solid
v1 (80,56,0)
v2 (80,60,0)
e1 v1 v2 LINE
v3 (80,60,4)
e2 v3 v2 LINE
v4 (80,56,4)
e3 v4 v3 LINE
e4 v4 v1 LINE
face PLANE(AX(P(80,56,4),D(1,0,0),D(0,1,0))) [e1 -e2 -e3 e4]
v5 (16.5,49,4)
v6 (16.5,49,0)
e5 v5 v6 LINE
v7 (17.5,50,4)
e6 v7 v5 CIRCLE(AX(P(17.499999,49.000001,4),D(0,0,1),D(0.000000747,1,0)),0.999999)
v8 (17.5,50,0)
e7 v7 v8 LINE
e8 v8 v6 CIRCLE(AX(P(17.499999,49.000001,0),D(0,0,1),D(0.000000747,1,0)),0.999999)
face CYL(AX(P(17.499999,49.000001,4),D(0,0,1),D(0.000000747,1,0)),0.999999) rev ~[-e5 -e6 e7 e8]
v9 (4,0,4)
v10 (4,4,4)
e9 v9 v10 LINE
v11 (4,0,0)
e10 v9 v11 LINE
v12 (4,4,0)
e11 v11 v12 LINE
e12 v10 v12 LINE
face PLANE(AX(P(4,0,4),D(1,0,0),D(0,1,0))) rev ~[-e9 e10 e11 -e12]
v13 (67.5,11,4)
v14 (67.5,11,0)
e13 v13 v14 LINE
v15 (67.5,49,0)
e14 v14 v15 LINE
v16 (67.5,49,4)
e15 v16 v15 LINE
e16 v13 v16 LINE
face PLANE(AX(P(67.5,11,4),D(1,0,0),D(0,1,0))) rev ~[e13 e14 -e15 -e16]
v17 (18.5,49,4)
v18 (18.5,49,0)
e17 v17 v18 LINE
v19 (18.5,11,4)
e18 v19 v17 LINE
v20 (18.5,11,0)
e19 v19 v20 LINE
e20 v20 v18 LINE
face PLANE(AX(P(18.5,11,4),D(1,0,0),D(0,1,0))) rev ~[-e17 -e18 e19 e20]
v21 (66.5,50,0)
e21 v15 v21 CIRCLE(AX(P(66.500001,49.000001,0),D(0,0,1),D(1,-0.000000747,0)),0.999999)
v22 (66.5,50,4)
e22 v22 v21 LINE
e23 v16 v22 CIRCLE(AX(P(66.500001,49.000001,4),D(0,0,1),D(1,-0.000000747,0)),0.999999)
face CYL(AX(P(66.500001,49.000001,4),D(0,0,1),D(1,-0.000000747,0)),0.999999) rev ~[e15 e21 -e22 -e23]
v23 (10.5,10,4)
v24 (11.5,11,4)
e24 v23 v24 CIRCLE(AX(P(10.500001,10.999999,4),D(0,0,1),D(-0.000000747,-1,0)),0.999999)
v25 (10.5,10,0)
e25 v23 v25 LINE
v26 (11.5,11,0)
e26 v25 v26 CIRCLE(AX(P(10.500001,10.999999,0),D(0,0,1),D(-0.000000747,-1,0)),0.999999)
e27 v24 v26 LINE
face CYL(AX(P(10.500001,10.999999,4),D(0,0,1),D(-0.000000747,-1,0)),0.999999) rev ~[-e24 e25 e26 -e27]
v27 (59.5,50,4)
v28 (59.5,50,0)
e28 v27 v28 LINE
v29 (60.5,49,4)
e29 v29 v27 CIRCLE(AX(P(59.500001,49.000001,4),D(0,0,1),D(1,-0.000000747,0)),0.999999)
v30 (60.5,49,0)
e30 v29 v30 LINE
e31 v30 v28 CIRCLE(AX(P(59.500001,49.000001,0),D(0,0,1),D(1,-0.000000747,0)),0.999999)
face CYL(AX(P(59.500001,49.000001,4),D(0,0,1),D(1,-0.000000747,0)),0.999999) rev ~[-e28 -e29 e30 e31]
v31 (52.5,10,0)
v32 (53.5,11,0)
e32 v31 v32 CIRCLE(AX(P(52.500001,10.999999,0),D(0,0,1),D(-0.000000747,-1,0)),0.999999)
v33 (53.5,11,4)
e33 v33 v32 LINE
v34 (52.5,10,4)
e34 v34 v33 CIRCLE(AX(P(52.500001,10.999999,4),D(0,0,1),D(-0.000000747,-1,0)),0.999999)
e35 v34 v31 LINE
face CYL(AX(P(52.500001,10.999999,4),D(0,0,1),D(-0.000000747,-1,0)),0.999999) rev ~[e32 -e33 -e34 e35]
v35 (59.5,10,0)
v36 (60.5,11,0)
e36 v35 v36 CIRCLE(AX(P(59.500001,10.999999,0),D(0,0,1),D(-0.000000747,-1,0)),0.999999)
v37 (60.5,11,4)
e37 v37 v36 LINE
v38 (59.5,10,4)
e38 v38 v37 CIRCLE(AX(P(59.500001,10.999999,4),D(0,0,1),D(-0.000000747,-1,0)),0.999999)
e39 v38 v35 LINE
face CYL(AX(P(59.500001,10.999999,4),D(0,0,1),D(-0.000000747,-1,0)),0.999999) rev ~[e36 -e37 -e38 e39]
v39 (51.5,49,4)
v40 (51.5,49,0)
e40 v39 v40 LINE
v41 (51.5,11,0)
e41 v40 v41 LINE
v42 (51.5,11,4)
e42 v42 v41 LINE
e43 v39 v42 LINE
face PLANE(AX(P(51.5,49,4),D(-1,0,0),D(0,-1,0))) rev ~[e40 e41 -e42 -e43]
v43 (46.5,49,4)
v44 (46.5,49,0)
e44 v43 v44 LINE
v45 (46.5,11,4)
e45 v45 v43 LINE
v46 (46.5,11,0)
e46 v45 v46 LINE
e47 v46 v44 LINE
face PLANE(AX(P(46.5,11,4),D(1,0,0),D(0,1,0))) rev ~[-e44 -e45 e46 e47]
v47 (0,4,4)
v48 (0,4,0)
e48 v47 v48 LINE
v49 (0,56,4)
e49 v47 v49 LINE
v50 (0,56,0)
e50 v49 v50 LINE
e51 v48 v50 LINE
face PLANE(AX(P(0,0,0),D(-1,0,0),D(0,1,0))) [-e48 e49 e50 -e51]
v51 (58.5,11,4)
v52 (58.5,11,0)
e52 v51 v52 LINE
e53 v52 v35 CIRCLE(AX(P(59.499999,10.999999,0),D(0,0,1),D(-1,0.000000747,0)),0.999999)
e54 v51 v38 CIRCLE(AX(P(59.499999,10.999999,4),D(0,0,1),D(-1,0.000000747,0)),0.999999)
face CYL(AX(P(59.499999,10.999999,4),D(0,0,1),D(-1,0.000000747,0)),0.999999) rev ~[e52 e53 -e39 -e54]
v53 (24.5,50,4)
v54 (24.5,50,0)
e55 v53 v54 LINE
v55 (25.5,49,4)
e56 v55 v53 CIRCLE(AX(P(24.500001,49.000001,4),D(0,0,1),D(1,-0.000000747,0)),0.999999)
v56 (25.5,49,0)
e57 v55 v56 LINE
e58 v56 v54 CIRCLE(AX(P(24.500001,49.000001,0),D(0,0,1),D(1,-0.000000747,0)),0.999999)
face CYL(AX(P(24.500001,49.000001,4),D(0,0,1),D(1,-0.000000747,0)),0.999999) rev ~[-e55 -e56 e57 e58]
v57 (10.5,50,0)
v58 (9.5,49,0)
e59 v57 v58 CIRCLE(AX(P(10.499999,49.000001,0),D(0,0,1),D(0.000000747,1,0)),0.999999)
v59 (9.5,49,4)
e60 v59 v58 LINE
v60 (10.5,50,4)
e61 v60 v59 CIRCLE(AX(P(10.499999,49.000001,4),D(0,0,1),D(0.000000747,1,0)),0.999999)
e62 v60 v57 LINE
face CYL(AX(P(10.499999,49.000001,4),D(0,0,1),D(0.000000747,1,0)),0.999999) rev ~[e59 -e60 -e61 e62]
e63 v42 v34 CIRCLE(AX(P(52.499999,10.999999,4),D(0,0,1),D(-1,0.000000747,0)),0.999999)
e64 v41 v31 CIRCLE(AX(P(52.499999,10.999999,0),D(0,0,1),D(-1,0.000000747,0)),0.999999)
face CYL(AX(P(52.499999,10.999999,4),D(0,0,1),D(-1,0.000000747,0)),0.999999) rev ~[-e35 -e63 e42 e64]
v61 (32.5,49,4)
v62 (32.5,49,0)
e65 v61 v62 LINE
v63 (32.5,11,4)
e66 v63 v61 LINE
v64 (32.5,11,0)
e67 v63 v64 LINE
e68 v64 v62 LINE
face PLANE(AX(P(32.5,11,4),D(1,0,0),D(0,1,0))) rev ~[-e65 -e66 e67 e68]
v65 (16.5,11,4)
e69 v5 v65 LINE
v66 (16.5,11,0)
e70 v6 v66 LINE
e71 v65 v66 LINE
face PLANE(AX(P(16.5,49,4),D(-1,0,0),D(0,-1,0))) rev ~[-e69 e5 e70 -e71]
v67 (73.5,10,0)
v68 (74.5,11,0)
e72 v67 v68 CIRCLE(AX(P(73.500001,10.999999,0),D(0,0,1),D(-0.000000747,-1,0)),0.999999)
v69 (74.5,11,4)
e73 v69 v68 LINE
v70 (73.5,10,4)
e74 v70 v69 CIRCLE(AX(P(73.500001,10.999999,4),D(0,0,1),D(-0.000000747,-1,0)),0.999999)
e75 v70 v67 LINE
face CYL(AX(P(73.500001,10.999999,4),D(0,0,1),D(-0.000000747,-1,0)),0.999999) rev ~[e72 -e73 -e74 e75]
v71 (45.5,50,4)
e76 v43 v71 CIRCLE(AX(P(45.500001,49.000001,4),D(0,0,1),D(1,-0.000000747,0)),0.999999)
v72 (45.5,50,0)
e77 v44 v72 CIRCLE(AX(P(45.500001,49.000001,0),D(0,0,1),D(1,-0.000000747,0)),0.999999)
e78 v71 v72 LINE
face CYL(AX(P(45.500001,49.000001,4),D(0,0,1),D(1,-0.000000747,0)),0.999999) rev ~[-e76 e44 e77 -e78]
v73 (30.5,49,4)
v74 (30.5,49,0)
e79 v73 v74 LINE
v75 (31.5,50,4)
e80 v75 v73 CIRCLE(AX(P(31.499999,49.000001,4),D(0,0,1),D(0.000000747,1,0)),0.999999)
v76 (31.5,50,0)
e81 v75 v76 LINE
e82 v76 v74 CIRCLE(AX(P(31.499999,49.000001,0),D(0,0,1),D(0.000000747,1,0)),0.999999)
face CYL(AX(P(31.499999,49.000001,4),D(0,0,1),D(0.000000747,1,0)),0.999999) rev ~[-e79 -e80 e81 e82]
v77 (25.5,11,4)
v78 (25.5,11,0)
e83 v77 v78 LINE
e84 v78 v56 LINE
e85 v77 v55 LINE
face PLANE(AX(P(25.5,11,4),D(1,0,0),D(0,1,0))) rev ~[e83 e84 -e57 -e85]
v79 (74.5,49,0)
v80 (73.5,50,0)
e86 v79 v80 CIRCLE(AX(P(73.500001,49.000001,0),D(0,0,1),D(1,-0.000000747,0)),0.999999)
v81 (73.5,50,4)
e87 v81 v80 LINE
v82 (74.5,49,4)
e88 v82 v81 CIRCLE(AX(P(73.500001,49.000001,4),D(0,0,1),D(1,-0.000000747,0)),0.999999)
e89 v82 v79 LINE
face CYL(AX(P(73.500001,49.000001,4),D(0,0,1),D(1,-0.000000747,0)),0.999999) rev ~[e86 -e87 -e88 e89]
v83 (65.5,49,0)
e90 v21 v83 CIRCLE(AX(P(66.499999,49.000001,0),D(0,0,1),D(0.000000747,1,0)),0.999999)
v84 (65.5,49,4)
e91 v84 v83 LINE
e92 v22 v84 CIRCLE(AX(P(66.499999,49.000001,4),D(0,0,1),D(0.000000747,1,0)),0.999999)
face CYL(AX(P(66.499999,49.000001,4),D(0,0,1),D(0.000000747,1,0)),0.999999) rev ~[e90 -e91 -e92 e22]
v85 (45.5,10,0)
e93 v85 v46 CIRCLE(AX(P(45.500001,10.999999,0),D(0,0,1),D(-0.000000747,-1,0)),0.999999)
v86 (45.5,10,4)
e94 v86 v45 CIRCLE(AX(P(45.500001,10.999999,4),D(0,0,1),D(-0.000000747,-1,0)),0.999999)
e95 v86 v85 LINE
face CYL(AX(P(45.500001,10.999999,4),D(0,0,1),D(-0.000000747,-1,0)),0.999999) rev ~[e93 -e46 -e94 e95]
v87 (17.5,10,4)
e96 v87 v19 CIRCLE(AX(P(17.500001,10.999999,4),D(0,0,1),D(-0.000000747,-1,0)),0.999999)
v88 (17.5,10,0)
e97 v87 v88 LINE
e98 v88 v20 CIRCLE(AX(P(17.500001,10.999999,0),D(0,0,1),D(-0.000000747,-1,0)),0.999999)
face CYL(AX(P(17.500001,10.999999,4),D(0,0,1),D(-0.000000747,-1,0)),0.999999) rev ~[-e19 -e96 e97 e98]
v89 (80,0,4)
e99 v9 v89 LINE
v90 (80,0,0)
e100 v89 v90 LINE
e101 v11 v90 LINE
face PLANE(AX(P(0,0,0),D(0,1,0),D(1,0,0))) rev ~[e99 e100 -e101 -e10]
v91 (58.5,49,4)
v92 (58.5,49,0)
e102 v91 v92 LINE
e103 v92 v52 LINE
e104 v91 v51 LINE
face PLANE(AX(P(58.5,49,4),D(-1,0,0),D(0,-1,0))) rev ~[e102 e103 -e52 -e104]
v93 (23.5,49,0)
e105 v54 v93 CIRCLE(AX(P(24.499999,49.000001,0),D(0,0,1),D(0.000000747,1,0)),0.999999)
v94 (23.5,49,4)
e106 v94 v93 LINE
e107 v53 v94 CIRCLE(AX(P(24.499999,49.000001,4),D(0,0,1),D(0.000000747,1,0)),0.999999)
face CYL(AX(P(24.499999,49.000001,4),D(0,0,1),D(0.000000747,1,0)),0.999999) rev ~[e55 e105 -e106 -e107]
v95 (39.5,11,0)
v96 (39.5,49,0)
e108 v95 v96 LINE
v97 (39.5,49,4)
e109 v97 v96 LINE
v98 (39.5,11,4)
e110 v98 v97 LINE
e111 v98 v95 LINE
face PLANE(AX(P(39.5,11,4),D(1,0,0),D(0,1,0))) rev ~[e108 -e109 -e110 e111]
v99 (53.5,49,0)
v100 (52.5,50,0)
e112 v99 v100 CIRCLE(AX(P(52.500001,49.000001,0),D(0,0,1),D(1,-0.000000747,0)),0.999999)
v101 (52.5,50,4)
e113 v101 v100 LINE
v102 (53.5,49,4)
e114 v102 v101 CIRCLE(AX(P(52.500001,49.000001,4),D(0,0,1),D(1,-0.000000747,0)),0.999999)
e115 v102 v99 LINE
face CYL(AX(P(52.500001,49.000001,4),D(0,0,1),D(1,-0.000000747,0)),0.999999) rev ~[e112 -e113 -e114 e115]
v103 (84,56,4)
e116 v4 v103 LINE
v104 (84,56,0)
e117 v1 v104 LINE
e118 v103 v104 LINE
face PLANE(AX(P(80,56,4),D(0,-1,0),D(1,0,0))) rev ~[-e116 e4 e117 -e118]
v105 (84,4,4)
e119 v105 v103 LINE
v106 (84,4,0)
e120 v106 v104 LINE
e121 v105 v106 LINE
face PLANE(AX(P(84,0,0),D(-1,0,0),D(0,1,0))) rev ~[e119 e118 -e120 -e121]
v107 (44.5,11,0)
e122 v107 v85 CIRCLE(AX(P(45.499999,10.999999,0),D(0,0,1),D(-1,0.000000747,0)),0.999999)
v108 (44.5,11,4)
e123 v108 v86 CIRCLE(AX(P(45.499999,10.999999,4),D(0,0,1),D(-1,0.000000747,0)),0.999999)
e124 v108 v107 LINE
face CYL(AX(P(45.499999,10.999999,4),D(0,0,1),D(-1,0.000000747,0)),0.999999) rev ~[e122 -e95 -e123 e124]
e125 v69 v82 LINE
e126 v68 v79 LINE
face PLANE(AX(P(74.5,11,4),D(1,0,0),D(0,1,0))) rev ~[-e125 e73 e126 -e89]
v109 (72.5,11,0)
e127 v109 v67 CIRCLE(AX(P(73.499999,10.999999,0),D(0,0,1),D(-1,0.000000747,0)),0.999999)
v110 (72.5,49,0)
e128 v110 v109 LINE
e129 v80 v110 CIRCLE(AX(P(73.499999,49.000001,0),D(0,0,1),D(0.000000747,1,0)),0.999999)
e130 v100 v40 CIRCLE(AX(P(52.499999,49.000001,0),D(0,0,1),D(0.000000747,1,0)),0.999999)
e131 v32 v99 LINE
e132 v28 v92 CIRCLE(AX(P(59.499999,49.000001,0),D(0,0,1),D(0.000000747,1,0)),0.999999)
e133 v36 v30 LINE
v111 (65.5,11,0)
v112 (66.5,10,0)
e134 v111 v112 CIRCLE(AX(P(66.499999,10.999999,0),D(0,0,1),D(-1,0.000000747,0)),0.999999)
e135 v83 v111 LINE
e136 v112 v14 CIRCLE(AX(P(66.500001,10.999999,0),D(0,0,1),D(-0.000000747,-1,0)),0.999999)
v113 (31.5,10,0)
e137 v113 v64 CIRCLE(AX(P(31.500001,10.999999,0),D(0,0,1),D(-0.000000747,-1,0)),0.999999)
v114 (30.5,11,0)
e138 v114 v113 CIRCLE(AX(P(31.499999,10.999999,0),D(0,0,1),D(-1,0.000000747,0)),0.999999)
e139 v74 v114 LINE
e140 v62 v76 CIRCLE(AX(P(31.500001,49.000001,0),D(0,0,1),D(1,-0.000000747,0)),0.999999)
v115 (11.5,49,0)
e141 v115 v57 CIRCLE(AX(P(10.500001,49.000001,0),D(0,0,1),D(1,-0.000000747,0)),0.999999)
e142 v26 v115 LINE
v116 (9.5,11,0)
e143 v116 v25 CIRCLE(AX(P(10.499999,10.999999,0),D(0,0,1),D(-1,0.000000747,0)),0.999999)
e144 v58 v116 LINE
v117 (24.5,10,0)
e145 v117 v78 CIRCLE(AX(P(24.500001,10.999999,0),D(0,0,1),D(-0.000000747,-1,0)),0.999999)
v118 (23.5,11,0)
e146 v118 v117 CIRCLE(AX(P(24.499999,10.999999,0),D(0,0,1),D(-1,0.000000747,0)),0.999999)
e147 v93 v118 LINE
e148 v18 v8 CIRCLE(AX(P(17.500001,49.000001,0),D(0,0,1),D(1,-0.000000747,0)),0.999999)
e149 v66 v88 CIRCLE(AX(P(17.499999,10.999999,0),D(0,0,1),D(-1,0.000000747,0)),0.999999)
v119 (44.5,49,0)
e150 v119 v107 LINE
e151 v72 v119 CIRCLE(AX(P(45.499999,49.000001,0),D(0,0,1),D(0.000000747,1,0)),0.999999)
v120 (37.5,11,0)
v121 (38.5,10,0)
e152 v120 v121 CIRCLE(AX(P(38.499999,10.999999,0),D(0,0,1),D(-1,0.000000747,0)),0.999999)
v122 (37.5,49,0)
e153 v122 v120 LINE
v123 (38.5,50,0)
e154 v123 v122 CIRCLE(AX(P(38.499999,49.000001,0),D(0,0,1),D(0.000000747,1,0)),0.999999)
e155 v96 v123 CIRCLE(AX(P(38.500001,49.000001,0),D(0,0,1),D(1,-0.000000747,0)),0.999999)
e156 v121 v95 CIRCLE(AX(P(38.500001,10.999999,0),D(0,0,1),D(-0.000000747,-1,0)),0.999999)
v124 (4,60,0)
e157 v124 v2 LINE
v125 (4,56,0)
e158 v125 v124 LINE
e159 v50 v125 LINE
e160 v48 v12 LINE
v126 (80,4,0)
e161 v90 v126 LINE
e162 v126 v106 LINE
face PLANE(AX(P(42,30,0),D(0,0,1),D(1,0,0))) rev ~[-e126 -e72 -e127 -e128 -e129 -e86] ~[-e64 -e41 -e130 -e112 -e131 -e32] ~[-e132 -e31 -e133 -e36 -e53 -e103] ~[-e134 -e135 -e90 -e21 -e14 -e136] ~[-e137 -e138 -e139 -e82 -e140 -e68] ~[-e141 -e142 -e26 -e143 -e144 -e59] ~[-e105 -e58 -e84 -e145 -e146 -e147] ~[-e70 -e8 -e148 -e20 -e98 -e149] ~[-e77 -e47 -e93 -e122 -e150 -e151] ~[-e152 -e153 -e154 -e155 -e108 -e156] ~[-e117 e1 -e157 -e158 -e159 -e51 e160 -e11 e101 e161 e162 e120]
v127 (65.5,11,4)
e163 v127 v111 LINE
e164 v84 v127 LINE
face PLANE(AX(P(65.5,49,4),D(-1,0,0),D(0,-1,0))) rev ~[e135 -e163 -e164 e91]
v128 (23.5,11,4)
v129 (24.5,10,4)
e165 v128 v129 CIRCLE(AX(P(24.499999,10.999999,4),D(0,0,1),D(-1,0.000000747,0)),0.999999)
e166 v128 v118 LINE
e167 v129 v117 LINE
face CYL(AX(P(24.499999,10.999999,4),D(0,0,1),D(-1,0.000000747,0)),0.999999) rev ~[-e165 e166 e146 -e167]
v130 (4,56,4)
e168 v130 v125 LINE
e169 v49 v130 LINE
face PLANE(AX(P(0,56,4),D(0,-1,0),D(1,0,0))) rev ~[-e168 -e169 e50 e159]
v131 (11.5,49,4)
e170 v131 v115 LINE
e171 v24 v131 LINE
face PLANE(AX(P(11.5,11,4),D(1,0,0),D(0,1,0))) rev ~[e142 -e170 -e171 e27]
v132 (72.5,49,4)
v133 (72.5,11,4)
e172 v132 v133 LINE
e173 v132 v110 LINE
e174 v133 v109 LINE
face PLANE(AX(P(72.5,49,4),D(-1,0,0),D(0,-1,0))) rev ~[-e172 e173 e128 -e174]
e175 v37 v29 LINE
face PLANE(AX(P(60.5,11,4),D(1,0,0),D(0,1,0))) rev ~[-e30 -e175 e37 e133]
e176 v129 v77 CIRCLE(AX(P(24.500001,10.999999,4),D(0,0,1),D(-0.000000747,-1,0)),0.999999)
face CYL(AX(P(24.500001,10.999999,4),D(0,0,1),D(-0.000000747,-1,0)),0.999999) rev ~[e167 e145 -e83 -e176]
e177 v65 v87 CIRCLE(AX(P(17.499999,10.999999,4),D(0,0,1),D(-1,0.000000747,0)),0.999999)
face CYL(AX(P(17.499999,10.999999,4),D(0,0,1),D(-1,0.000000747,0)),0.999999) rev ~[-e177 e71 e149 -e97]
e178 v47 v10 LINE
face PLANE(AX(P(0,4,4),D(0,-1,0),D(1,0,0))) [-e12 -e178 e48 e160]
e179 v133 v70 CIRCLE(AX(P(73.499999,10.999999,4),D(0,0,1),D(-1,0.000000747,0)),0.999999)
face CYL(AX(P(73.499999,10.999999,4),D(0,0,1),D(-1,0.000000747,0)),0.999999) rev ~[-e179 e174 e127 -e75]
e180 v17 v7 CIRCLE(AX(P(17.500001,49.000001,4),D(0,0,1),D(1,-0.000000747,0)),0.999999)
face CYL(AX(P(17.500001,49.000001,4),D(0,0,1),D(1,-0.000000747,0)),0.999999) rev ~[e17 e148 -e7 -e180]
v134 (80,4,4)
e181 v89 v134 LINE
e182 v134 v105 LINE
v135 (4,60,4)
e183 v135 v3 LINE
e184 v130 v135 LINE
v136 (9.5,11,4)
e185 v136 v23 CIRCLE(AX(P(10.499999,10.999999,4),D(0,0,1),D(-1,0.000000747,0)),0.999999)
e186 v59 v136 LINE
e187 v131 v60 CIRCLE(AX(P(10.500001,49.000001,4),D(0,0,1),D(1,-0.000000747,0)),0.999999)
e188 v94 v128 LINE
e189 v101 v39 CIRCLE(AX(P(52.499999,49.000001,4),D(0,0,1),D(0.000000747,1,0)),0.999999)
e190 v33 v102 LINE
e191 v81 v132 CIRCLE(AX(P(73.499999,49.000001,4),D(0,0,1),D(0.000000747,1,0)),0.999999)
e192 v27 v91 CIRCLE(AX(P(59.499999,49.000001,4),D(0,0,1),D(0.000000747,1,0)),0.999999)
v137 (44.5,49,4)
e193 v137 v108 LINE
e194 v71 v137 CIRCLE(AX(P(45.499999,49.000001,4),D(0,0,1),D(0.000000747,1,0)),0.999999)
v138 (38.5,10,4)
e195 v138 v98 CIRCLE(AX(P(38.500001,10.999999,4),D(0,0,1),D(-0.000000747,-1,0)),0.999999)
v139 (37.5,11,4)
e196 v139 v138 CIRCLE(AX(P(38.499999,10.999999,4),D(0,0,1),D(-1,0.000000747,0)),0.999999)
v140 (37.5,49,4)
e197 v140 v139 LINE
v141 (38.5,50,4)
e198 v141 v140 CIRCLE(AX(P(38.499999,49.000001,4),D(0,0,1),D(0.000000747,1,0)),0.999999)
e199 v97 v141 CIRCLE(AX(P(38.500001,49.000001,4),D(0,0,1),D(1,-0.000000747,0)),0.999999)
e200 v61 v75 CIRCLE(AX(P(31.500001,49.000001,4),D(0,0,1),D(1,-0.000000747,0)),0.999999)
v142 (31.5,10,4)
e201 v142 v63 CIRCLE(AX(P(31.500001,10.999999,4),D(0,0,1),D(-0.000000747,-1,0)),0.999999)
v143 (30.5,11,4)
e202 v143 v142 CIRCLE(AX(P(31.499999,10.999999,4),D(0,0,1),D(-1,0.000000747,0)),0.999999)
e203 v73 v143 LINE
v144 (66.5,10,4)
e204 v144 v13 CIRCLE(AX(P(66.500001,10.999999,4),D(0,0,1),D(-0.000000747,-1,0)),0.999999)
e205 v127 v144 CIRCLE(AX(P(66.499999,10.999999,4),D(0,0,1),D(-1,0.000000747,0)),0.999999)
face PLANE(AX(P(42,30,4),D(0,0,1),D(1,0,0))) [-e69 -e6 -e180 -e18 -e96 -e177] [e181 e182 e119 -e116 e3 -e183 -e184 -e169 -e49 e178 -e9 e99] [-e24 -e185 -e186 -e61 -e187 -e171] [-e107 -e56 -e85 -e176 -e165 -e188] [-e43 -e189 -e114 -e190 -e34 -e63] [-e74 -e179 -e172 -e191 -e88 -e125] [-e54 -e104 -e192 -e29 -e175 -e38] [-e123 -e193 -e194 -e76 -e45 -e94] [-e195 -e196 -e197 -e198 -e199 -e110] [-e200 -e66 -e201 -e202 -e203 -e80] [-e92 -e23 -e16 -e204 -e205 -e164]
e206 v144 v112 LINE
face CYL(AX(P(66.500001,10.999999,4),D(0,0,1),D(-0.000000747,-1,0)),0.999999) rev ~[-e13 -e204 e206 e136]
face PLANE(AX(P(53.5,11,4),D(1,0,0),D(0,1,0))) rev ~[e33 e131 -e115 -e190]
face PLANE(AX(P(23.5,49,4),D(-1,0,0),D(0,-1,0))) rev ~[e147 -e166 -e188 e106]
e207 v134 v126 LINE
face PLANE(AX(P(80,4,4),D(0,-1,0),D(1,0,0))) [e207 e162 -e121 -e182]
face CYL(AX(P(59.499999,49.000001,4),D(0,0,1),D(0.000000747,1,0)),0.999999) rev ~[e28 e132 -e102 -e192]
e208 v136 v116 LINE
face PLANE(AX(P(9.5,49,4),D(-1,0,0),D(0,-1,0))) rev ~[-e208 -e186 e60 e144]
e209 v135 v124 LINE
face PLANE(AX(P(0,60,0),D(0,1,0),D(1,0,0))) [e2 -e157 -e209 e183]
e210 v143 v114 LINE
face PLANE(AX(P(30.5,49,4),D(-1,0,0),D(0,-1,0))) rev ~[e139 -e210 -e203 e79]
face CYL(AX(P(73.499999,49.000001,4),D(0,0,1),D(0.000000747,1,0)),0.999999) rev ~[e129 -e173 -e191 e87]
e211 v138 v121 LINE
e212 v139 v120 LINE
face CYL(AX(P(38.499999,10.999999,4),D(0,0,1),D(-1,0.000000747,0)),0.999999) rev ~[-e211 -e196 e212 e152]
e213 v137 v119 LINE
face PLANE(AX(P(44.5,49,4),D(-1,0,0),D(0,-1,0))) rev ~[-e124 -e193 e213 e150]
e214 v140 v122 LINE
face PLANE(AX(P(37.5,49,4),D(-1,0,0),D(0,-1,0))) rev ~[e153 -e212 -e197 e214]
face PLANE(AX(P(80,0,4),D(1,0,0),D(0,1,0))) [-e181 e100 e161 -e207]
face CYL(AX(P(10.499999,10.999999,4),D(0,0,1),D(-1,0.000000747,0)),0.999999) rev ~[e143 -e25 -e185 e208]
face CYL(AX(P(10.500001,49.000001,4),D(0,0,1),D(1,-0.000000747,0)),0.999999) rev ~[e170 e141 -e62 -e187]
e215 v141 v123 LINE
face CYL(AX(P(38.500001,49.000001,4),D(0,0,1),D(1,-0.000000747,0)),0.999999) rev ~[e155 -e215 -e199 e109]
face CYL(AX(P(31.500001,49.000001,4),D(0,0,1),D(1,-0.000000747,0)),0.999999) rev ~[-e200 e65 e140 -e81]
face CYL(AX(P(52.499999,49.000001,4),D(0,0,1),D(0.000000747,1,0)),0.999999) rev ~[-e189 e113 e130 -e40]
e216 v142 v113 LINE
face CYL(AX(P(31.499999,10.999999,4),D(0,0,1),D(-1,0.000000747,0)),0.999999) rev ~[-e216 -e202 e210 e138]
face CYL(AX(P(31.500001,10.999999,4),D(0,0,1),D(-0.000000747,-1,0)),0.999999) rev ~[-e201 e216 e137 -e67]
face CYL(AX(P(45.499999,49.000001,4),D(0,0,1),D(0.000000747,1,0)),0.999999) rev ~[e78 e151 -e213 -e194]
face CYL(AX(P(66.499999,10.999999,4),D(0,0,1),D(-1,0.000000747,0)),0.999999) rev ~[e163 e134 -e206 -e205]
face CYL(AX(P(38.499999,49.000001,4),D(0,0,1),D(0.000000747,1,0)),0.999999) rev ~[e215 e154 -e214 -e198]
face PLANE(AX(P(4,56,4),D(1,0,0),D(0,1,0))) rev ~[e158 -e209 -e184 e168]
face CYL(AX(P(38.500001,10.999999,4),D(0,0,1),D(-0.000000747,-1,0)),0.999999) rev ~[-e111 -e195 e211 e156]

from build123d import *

# Parameters (mm, degrees)
F0_W     = 84
F0_H     = 60
F1_DEPTH = 4
F2_W     = 4
F2_H     = 4
F3_DEPTH = 4
F5_DEPTH = 4


with BuildPart() as f1:
    # F0 (on Top) → F1 (new body)
    with BuildSketch(Plane.XY):
        with Locations((42, 30)):
            Rectangle(F0_W, F0_H)
    extrude(amount=F1_DEPTH)

    # F2 (on face) → F3 (cut, through all)
    with BuildSketch(Plane.XY.offset(4)):
        with Locations((2, 2)):
            Rectangle(F2_W, F2_H)
        with Locations((2, 58)):
            Rectangle(F2_W, F2_H)
        with Locations((82, 2)):
            Rectangle(F2_W, F2_H)
        with Locations((82, 58)):
            Rectangle(F2_W, F2_H)
    extrude(amount=-F3_DEPTH, mode=Mode.SUBTRACT)

    # F4 (on face) → F5 (cut, through all)
    with BuildSketch(Plane.XY.offset(4)):
        with BuildLine():
            ThreePointArc((10.5, 50), (9.792893, 49.707107), (9.5, 49))
            Line((9.5, 49), (9.5, 11))
            ThreePointArc((9.5, 11), (9.792893, 10.292893), (10.5, 10))
            ThreePointArc((10.5, 10), (11.207107, 10.292893), (11.5, 11))
            Line((11.5, 11), (11.5, 49))
            ThreePointArc((11.5, 49), (11.207107, 49.707107), (10.5, 50))
        make_face()
        with BuildLine():
            ThreePointArc((17.5, 50), (16.792893, 49.707107), (16.5, 49))
            Line((16.5, 49), (16.5, 11))
            ThreePointArc((16.5, 11), (16.792893, 10.292893), (17.5, 10))
            ThreePointArc((17.5, 10), (18.207107, 10.292893), (18.5, 11))
            Line((18.5, 11), (18.5, 49))
            ThreePointArc((18.5, 49), (18.207107, 49.707107), (17.5, 50))
        make_face()
        with BuildLine():
            ThreePointArc((24.5, 50), (23.792893, 49.707107), (23.5, 49))
            Line((23.5, 49), (23.5, 11))
            ThreePointArc((23.5, 11), (23.792893, 10.292893), (24.5, 10))
            ThreePointArc((24.5, 10), (25.207107, 10.292893), (25.5, 11))
            Line((25.5, 11), (25.5, 49))
            ThreePointArc((25.5, 49), (25.207107, 49.707107), (24.5, 50))
        make_face()
        with BuildLine():
            ThreePointArc((31.5, 50), (30.792893, 49.707107), (30.5, 49))
            Line((30.5, 49), (30.5, 11))
            ThreePointArc((30.5, 11), (30.792893, 10.292893), (31.5, 10))
            ThreePointArc((31.5, 10), (32.207107, 10.292893), (32.5, 11))
            Line((32.5, 11), (32.5, 49))
            ThreePointArc((32.5, 49), (32.207107, 49.707107), (31.5, 50))
        make_face()
        with BuildLine():
            ThreePointArc((38.5, 50), (37.792893, 49.707107), (37.5, 49))
            Line((37.5, 49), (37.5, 11))
            ThreePointArc((37.5, 11), (37.792893, 10.292893), (38.5, 10))
            ThreePointArc((38.5, 10), (39.207107, 10.292893), (39.5, 11))
            Line((39.5, 11), (39.5, 49))
            ThreePointArc((39.5, 49), (39.207107, 49.707107), (38.5, 50))
        make_face()
        with BuildLine():
            ThreePointArc((45.5, 50), (44.792893, 49.707107), (44.5, 49))
            Line((44.5, 49), (44.5, 11))
            ThreePointArc((44.5, 11), (44.792893, 10.292893), (45.5, 10))
            ThreePointArc((45.5, 10), (46.207107, 10.292893), (46.5, 11))
            Line((46.5, 11), (46.5, 49))
            ThreePointArc((46.5, 49), (46.207107, 49.707107), (45.5, 50))
        make_face()
        with BuildLine():
            ThreePointArc((52.5, 50), (51.792893, 49.707107), (51.5, 49))
            Line((51.5, 49), (51.5, 11))
            ThreePointArc((51.5, 11), (51.792893, 10.292893), (52.5, 10))
            ThreePointArc((52.5, 10), (53.207107, 10.292893), (53.5, 11))
            Line((53.5, 11), (53.5, 49))
            ThreePointArc((53.5, 49), (53.207107, 49.707107), (52.5, 50))
        make_face()
        with BuildLine():
            ThreePointArc((59.5, 50), (58.792893, 49.707107), (58.5, 49))
            Line((58.5, 49), (58.5, 11))
            ThreePointArc((58.5, 11), (58.792893, 10.292893), (59.5, 10))
            ThreePointArc((59.5, 10), (60.207107, 10.292893), (60.5, 11))
            Line((60.5, 11), (60.5, 49))
            ThreePointArc((60.5, 49), (60.207107, 49.707107), (59.5, 50))
        make_face()
        with BuildLine():
            ThreePointArc((66.5, 50), (65.792893, 49.707107), (65.5, 49))
            Line((65.5, 49), (65.5, 11))
            ThreePointArc((65.5, 11), (65.792893, 10.292893), (66.5, 10))
            ThreePointArc((66.5, 10), (67.207107, 10.292893), (67.5, 11))
            Line((67.5, 11), (67.5, 49))
            ThreePointArc((67.5, 49), (67.207107, 49.707107), (66.5, 50))
        make_face()
        with BuildLine():
            ThreePointArc((73.5, 50), (72.792893, 49.707107), (72.5, 49))
            Line((72.5, 49), (72.5, 11))
            ThreePointArc((72.5, 11), (72.792893, 10.292893), (73.5, 10))
            ThreePointArc((73.5, 10), (74.207107, 10.292893), (74.5, 11))
            Line((74.5, 11), (74.5, 49))
            ThreePointArc((74.5, 49), (74.207107, 49.707107), (73.5, 50))
        make_face()
    extrude(amount=-F5_DEPTH, mode=Mode.SUBTRACT)


solid = f1.part
